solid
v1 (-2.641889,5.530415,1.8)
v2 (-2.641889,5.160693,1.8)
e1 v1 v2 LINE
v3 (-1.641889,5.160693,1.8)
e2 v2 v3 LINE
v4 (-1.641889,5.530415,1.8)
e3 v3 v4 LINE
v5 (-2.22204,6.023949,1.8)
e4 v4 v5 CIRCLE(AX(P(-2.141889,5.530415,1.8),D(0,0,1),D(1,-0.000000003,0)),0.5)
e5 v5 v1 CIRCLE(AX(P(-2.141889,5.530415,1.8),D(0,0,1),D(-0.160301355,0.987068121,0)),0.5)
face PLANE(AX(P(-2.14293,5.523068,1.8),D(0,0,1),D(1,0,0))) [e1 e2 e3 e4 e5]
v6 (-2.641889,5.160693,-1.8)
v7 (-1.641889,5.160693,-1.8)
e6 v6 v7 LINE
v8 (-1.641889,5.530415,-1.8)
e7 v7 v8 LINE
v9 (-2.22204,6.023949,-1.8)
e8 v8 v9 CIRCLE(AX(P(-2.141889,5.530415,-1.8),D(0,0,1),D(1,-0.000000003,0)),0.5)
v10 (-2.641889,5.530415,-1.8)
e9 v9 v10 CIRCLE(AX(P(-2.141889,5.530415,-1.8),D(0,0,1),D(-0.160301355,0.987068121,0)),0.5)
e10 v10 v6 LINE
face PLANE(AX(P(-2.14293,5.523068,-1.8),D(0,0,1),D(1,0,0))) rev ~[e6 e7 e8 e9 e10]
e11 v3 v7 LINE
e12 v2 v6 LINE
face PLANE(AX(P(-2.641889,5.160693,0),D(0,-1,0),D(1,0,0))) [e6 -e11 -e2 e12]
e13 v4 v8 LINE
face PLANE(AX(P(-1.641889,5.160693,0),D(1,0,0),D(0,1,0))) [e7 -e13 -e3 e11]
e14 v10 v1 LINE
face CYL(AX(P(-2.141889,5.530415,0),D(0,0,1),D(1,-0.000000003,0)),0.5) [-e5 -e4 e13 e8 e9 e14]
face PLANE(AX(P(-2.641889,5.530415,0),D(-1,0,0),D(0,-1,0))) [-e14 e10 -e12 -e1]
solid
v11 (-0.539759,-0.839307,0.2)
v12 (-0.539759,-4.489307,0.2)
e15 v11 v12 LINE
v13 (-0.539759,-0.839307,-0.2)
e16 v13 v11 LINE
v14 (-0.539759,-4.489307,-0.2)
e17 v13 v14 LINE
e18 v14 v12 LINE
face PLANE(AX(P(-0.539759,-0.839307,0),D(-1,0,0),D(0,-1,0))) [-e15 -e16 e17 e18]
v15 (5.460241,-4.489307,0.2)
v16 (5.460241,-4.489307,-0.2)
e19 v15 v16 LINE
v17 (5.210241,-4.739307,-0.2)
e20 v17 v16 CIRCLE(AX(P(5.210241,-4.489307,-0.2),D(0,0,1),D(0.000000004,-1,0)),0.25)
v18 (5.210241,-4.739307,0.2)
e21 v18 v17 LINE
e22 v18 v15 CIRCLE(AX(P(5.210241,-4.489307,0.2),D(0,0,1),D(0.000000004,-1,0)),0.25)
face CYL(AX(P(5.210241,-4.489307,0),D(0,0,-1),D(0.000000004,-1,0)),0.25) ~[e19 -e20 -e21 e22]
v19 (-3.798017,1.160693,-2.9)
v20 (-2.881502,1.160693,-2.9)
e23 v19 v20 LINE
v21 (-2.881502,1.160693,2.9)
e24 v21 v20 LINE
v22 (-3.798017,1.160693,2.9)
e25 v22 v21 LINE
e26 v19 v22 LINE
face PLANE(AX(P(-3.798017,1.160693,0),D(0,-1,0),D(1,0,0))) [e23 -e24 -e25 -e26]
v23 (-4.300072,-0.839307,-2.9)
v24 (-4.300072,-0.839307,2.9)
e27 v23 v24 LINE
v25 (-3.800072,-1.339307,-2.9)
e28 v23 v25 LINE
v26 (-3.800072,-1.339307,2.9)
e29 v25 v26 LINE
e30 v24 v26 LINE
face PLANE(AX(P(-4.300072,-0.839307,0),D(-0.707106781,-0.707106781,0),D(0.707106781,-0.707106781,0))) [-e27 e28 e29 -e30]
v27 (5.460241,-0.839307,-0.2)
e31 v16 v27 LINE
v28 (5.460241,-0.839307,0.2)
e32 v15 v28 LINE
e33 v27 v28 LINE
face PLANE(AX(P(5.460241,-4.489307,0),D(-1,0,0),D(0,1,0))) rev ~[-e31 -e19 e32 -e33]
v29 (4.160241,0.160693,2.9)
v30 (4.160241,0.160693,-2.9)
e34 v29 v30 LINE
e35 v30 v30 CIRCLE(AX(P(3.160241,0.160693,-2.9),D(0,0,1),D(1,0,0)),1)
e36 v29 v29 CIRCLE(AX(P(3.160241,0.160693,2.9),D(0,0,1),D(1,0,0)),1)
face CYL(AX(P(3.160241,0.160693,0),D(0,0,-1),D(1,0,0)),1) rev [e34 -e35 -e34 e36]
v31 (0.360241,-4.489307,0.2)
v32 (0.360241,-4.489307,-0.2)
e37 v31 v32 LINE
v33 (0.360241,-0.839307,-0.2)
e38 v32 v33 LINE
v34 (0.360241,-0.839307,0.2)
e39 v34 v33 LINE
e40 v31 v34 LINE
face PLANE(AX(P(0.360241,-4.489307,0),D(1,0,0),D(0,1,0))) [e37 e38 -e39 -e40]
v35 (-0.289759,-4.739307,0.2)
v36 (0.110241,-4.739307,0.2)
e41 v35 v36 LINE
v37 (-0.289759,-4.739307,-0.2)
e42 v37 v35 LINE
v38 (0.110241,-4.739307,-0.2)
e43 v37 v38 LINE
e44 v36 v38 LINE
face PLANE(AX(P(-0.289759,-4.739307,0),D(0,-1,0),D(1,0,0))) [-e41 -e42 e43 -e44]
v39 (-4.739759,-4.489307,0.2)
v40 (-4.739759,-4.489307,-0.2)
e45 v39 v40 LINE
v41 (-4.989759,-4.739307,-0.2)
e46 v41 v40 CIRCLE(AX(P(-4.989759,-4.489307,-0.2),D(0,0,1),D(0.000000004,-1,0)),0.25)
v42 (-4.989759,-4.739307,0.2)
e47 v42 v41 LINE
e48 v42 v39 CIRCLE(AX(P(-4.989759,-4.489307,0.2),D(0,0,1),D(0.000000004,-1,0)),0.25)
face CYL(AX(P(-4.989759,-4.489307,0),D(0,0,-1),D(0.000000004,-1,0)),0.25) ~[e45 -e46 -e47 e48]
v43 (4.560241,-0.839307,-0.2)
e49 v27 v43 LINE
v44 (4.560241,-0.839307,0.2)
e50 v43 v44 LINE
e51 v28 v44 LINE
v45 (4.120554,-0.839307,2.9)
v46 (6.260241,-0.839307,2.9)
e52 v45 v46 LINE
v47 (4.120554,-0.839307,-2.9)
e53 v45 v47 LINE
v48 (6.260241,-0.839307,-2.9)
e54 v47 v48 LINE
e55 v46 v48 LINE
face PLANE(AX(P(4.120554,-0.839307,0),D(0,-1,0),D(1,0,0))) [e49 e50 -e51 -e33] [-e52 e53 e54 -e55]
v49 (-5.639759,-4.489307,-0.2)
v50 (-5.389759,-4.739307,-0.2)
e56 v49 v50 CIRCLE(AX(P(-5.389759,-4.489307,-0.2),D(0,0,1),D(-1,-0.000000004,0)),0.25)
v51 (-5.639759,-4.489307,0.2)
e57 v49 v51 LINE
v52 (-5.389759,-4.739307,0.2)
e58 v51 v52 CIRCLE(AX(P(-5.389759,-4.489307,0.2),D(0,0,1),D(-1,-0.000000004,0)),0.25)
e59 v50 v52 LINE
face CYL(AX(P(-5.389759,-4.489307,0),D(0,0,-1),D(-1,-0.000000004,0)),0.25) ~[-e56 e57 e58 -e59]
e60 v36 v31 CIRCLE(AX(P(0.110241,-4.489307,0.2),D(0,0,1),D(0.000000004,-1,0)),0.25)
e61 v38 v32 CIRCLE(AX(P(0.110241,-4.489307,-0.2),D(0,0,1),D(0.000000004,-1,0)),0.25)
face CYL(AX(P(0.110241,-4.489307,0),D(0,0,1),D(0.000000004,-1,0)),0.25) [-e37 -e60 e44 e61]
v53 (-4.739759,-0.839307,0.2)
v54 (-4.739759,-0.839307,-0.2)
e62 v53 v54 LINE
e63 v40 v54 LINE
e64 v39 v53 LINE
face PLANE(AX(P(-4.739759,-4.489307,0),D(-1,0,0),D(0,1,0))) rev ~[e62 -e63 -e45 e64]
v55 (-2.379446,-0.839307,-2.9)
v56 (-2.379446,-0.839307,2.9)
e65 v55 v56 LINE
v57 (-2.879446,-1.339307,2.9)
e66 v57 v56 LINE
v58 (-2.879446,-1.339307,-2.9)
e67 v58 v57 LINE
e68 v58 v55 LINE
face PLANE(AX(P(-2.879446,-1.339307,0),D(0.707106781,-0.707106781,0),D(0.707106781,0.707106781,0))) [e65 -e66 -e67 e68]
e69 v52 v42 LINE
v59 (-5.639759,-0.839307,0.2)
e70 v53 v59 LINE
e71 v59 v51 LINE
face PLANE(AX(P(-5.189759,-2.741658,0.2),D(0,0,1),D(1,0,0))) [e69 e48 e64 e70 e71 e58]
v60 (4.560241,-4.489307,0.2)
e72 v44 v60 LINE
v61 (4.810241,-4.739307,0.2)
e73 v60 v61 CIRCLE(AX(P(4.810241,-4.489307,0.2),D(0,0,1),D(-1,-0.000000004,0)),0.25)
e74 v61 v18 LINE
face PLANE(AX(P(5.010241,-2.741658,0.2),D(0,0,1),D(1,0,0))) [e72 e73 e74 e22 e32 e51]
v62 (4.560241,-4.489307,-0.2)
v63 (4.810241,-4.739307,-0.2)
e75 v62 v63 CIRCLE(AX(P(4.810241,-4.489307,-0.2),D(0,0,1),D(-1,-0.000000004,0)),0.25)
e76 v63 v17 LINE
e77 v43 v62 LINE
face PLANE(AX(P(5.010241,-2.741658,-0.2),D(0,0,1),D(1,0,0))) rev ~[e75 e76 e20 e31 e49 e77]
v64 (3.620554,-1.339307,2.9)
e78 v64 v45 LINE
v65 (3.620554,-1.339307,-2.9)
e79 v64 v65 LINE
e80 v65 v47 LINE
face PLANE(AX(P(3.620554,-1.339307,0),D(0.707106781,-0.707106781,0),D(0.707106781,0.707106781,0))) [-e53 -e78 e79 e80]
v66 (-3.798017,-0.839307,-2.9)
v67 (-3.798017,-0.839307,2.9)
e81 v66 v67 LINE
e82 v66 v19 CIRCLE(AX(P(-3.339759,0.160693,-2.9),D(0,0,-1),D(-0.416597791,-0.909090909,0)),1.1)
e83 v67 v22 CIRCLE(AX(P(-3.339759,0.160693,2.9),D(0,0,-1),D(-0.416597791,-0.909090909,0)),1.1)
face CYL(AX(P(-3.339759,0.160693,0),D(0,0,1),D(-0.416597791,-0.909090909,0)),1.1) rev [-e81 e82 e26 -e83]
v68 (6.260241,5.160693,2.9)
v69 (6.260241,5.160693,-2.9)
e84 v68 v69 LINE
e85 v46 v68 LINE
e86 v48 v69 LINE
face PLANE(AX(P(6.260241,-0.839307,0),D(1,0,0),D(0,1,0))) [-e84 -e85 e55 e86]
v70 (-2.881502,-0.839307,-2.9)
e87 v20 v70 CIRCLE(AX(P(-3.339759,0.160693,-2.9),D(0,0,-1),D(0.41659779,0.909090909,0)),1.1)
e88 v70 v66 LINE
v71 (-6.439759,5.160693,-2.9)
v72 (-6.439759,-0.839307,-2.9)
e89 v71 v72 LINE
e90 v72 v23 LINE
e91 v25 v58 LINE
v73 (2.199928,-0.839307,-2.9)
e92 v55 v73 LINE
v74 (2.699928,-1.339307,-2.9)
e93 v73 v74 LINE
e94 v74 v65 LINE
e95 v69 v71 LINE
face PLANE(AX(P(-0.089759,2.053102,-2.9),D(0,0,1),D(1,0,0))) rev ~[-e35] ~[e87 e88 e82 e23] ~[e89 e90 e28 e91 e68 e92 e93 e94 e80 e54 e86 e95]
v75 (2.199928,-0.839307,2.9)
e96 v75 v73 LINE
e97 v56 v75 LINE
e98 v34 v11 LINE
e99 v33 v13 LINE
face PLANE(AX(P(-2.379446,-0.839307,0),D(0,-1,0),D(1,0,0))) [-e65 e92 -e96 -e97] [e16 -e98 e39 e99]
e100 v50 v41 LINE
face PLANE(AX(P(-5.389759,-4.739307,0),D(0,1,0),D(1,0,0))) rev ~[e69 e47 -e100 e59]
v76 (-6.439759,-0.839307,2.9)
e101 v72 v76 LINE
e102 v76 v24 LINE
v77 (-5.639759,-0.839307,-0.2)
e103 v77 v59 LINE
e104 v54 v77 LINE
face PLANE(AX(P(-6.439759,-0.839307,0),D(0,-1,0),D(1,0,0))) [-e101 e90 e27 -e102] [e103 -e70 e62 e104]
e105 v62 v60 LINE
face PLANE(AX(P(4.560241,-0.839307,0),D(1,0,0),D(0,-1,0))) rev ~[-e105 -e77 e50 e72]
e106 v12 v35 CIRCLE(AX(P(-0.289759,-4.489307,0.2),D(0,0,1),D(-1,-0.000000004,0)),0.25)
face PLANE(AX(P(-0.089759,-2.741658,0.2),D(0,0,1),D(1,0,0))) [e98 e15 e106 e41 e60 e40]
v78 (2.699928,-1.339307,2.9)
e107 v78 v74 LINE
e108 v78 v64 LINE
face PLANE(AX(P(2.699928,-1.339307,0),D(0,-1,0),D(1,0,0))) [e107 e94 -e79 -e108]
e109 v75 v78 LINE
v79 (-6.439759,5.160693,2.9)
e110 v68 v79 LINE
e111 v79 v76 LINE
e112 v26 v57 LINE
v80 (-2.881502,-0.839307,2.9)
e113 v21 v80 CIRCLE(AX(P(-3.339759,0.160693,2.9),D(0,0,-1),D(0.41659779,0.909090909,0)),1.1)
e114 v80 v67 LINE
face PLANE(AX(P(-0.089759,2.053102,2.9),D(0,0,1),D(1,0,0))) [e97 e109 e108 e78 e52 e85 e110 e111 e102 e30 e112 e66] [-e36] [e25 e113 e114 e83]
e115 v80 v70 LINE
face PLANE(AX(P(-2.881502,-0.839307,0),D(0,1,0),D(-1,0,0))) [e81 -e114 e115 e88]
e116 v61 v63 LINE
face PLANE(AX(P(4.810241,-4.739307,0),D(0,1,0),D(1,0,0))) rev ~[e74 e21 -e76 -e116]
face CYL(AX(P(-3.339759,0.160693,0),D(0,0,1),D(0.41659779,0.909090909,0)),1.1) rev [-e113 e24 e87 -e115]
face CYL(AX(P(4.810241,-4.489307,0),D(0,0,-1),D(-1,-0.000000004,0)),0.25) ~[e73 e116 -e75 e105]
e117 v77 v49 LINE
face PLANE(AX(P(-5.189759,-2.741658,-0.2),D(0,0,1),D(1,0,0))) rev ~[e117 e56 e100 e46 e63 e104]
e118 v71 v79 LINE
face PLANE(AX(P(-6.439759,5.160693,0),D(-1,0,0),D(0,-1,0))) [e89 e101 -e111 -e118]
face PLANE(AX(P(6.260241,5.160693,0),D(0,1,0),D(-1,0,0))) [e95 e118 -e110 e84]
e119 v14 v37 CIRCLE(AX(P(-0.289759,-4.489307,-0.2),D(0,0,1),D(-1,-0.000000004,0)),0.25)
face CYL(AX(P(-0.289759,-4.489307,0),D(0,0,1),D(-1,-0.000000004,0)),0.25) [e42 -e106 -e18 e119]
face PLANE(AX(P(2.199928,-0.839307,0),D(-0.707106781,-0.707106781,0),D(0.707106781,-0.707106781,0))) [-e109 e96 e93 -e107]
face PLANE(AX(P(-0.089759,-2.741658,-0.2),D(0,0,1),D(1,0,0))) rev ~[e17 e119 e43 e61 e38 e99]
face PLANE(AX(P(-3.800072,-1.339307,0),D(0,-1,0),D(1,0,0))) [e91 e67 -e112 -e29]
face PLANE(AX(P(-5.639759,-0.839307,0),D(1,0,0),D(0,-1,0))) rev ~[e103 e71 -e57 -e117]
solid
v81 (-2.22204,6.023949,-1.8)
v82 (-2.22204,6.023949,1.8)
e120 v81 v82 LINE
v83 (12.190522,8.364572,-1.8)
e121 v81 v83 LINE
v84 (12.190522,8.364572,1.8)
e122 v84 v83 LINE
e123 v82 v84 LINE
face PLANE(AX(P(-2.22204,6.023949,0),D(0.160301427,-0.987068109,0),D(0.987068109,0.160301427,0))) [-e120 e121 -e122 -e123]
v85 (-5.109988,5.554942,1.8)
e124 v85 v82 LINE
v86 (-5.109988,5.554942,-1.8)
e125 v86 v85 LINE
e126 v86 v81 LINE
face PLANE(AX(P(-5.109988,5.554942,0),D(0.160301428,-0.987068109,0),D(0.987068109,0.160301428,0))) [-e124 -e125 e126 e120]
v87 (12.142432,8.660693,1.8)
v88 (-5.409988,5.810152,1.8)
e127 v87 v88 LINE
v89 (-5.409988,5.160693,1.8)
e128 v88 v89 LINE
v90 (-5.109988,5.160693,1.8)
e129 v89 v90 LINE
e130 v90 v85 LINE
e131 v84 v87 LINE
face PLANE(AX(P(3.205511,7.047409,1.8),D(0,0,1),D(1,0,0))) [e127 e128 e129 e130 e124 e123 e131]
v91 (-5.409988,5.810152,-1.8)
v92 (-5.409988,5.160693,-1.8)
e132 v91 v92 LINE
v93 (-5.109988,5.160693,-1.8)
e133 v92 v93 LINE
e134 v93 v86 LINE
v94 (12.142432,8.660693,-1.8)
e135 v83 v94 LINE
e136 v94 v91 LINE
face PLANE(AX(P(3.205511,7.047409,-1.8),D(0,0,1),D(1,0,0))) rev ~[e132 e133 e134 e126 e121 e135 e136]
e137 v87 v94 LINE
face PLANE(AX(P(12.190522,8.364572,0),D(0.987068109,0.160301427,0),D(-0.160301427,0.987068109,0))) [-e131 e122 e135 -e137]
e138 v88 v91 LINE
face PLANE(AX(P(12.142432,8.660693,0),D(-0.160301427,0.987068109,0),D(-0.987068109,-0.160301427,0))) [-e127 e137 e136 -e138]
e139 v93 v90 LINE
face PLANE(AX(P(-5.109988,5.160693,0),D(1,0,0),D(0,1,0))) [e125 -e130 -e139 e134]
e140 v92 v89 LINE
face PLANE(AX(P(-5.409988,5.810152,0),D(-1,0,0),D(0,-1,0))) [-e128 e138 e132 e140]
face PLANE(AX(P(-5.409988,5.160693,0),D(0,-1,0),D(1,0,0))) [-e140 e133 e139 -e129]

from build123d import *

# Parameters (mm, degrees)
SKETCH8_R              = 1
BOSS_EXTRUDE10_DEPTH   = 2.9
BOSS_EXTRUDE11_DEPTH   = 0.2
BOSS_EXTRUDE13_DEPTH   = 1.8
BOSS_EXTRUDE13_2_DEPTH = 1.8


with BuildPart() as part:
    # Sketch8 → Boss-Extrude10 (new, symmetric)
    with BuildSketch(Plane.XY):
        Polygon((6.260240616, 5.160692651), (-6.439759384, 5.160692651), (-6.439759384, -0.839307349), (-5.639759384, -0.839307349), (-4.739759384, -0.839307349), (-4.300072285, -0.839307349), (-3.800072285, -1.339307349), (-2.879446483, -1.339307349), (-2.379446483, -0.839307349), (-0.539759384, -0.839307349), (0.360240616, -0.839307349), (2.199927715, -0.839307349), (2.699927715, -1.339307349), (3.620553517, -1.339307349), (4.120553517, -0.839307349), (4.560240616, -0.839307349), (5.460240616, -0.839307349), (6.260240616, -0.839307349), align=None)
        with BuildLine():
            ThreePointArc((-3.798016954, -0.839307349), (-4.439759384, 0.160692651), (-3.798016954, 1.160692651))
            Line((-3.798016954, 1.160692651), (-2.881501815, 1.160692651))
            ThreePointArc((-2.881501815, 1.160692651), (-2.239759384, 0.160692651), (-2.881501815, -0.839307349))
            Line((-2.881501815, -0.839307349), (-3.798016954, -0.839307349))
        make_face(mode=Mode.SUBTRACT)
        with Locations((3.160240616, 0.160692651)):
            Circle(SKETCH8_R, mode=Mode.SUBTRACT)
    extrude(amount=BOSS_EXTRUDE10_DEPTH, both=True)

    # Sketch8<3> → Boss-Extrude11 (add, symmetric)
    with BuildSketch(Plane.XY):
        with BuildLine():
            Line((-4.739759384, -0.839307349), (-5.639759384, -0.839307349))
            Line((-5.639759384, -0.839307349), (-5.639759384, -4.489307349))
            ThreePointArc((-5.639759384, -4.489307349), (-5.566536079, -4.666084044), (-5.389759384, -4.739307349))
            Line((-5.389759384, -4.739307349), (-4.989759384, -4.739307349))
            ThreePointArc((-4.989759384, -4.739307349), (-4.812982689, -4.666084044), (-4.739759384, -4.489307349))
            Line((-4.739759384, -4.489307349), (-4.739759384, -0.839307349))
        make_face()
        with BuildLine():
            Line((5.460240616, -4.489307349), (5.460240616, -0.839307349))
            Line((5.460240616, -0.839307349), (4.560240616, -0.839307349))
            Line((4.560240616, -0.839307349), (4.560240616, -4.489307349))
            ThreePointArc((4.560240616, -4.489307349), (4.633463921, -4.666084044), (4.810240616, -4.739307349))
            Line((4.810240616, -4.739307349), (5.210240616, -4.739307349))
            ThreePointArc((5.210240616, -4.739307349), (5.387017311, -4.666084044), (5.460240616, -4.489307349))
        make_face()
        with BuildLine():
            Line((0.360240616, -0.839307349), (-0.539759384, -0.839307349))
            Line((-0.539759384, -0.839307349), (-0.539759384, -4.489307349))
            ThreePointArc((-0.539759384, -4.489307349), (-0.466536079, -4.666084044), (-0.289759384, -4.739307349))
            Line((-0.289759384, -4.739307349), (0.110240616, -4.739307349))
            ThreePointArc((0.110240616, -4.739307349), (0.287017311, -4.666084044), (0.360240616, -4.489307349))
            Line((0.360240616, -4.489307349), (0.360240616, -0.839307349))
        make_face()
    extrude(amount=BOSS_EXTRUDE11_DEPTH, both=True)


with BuildPart() as body_2:
    # Sketch9 → Boss-Extrude13 (new, symmetric)
    with BuildSketch(Plane.XY):
        with BuildLine():
            ThreePointArc((-1.641889185, 5.530415203), (-1.817910279, 5.911253317), (-2.22203986, 6.023949264))
            ThreePointArc((-2.22203986, 6.023949264), (-2.522727298, 5.854394108), (-2.641889185, 5.530415203))
            Line((-2.641889185, 5.530415203), (-2.641889185, 5.160692651))
            Line((-2.641889185, 5.160692651), (-1.641889185, 5.160692651))
            Line((-1.641889185, 5.160692651), (-1.641889185, 5.530415203))
        make_face()
    extrude(amount=BOSS_EXTRUDE13_DEPTH, both=True)


with BuildPart() as body_3:
    # Sketch9 → Boss-Extrude13 2 (new, symmetric)
    with BuildSketch(Plane.XY):
        Polygon((-5.409987829, 5.810151849), (-5.409987829, 5.160692651), (-5.109987829, 5.160692651), (-5.109987829, 5.55494193), (-2.22203986, 6.023949264), (12.19052222, 8.364572219), (12.142431792, 8.660692651), align=None)
    extrude(amount=BOSS_EXTRUDE13_2_DEPTH, both=True)


solid = Compound([part.part, body_2.part, body_3.part])
